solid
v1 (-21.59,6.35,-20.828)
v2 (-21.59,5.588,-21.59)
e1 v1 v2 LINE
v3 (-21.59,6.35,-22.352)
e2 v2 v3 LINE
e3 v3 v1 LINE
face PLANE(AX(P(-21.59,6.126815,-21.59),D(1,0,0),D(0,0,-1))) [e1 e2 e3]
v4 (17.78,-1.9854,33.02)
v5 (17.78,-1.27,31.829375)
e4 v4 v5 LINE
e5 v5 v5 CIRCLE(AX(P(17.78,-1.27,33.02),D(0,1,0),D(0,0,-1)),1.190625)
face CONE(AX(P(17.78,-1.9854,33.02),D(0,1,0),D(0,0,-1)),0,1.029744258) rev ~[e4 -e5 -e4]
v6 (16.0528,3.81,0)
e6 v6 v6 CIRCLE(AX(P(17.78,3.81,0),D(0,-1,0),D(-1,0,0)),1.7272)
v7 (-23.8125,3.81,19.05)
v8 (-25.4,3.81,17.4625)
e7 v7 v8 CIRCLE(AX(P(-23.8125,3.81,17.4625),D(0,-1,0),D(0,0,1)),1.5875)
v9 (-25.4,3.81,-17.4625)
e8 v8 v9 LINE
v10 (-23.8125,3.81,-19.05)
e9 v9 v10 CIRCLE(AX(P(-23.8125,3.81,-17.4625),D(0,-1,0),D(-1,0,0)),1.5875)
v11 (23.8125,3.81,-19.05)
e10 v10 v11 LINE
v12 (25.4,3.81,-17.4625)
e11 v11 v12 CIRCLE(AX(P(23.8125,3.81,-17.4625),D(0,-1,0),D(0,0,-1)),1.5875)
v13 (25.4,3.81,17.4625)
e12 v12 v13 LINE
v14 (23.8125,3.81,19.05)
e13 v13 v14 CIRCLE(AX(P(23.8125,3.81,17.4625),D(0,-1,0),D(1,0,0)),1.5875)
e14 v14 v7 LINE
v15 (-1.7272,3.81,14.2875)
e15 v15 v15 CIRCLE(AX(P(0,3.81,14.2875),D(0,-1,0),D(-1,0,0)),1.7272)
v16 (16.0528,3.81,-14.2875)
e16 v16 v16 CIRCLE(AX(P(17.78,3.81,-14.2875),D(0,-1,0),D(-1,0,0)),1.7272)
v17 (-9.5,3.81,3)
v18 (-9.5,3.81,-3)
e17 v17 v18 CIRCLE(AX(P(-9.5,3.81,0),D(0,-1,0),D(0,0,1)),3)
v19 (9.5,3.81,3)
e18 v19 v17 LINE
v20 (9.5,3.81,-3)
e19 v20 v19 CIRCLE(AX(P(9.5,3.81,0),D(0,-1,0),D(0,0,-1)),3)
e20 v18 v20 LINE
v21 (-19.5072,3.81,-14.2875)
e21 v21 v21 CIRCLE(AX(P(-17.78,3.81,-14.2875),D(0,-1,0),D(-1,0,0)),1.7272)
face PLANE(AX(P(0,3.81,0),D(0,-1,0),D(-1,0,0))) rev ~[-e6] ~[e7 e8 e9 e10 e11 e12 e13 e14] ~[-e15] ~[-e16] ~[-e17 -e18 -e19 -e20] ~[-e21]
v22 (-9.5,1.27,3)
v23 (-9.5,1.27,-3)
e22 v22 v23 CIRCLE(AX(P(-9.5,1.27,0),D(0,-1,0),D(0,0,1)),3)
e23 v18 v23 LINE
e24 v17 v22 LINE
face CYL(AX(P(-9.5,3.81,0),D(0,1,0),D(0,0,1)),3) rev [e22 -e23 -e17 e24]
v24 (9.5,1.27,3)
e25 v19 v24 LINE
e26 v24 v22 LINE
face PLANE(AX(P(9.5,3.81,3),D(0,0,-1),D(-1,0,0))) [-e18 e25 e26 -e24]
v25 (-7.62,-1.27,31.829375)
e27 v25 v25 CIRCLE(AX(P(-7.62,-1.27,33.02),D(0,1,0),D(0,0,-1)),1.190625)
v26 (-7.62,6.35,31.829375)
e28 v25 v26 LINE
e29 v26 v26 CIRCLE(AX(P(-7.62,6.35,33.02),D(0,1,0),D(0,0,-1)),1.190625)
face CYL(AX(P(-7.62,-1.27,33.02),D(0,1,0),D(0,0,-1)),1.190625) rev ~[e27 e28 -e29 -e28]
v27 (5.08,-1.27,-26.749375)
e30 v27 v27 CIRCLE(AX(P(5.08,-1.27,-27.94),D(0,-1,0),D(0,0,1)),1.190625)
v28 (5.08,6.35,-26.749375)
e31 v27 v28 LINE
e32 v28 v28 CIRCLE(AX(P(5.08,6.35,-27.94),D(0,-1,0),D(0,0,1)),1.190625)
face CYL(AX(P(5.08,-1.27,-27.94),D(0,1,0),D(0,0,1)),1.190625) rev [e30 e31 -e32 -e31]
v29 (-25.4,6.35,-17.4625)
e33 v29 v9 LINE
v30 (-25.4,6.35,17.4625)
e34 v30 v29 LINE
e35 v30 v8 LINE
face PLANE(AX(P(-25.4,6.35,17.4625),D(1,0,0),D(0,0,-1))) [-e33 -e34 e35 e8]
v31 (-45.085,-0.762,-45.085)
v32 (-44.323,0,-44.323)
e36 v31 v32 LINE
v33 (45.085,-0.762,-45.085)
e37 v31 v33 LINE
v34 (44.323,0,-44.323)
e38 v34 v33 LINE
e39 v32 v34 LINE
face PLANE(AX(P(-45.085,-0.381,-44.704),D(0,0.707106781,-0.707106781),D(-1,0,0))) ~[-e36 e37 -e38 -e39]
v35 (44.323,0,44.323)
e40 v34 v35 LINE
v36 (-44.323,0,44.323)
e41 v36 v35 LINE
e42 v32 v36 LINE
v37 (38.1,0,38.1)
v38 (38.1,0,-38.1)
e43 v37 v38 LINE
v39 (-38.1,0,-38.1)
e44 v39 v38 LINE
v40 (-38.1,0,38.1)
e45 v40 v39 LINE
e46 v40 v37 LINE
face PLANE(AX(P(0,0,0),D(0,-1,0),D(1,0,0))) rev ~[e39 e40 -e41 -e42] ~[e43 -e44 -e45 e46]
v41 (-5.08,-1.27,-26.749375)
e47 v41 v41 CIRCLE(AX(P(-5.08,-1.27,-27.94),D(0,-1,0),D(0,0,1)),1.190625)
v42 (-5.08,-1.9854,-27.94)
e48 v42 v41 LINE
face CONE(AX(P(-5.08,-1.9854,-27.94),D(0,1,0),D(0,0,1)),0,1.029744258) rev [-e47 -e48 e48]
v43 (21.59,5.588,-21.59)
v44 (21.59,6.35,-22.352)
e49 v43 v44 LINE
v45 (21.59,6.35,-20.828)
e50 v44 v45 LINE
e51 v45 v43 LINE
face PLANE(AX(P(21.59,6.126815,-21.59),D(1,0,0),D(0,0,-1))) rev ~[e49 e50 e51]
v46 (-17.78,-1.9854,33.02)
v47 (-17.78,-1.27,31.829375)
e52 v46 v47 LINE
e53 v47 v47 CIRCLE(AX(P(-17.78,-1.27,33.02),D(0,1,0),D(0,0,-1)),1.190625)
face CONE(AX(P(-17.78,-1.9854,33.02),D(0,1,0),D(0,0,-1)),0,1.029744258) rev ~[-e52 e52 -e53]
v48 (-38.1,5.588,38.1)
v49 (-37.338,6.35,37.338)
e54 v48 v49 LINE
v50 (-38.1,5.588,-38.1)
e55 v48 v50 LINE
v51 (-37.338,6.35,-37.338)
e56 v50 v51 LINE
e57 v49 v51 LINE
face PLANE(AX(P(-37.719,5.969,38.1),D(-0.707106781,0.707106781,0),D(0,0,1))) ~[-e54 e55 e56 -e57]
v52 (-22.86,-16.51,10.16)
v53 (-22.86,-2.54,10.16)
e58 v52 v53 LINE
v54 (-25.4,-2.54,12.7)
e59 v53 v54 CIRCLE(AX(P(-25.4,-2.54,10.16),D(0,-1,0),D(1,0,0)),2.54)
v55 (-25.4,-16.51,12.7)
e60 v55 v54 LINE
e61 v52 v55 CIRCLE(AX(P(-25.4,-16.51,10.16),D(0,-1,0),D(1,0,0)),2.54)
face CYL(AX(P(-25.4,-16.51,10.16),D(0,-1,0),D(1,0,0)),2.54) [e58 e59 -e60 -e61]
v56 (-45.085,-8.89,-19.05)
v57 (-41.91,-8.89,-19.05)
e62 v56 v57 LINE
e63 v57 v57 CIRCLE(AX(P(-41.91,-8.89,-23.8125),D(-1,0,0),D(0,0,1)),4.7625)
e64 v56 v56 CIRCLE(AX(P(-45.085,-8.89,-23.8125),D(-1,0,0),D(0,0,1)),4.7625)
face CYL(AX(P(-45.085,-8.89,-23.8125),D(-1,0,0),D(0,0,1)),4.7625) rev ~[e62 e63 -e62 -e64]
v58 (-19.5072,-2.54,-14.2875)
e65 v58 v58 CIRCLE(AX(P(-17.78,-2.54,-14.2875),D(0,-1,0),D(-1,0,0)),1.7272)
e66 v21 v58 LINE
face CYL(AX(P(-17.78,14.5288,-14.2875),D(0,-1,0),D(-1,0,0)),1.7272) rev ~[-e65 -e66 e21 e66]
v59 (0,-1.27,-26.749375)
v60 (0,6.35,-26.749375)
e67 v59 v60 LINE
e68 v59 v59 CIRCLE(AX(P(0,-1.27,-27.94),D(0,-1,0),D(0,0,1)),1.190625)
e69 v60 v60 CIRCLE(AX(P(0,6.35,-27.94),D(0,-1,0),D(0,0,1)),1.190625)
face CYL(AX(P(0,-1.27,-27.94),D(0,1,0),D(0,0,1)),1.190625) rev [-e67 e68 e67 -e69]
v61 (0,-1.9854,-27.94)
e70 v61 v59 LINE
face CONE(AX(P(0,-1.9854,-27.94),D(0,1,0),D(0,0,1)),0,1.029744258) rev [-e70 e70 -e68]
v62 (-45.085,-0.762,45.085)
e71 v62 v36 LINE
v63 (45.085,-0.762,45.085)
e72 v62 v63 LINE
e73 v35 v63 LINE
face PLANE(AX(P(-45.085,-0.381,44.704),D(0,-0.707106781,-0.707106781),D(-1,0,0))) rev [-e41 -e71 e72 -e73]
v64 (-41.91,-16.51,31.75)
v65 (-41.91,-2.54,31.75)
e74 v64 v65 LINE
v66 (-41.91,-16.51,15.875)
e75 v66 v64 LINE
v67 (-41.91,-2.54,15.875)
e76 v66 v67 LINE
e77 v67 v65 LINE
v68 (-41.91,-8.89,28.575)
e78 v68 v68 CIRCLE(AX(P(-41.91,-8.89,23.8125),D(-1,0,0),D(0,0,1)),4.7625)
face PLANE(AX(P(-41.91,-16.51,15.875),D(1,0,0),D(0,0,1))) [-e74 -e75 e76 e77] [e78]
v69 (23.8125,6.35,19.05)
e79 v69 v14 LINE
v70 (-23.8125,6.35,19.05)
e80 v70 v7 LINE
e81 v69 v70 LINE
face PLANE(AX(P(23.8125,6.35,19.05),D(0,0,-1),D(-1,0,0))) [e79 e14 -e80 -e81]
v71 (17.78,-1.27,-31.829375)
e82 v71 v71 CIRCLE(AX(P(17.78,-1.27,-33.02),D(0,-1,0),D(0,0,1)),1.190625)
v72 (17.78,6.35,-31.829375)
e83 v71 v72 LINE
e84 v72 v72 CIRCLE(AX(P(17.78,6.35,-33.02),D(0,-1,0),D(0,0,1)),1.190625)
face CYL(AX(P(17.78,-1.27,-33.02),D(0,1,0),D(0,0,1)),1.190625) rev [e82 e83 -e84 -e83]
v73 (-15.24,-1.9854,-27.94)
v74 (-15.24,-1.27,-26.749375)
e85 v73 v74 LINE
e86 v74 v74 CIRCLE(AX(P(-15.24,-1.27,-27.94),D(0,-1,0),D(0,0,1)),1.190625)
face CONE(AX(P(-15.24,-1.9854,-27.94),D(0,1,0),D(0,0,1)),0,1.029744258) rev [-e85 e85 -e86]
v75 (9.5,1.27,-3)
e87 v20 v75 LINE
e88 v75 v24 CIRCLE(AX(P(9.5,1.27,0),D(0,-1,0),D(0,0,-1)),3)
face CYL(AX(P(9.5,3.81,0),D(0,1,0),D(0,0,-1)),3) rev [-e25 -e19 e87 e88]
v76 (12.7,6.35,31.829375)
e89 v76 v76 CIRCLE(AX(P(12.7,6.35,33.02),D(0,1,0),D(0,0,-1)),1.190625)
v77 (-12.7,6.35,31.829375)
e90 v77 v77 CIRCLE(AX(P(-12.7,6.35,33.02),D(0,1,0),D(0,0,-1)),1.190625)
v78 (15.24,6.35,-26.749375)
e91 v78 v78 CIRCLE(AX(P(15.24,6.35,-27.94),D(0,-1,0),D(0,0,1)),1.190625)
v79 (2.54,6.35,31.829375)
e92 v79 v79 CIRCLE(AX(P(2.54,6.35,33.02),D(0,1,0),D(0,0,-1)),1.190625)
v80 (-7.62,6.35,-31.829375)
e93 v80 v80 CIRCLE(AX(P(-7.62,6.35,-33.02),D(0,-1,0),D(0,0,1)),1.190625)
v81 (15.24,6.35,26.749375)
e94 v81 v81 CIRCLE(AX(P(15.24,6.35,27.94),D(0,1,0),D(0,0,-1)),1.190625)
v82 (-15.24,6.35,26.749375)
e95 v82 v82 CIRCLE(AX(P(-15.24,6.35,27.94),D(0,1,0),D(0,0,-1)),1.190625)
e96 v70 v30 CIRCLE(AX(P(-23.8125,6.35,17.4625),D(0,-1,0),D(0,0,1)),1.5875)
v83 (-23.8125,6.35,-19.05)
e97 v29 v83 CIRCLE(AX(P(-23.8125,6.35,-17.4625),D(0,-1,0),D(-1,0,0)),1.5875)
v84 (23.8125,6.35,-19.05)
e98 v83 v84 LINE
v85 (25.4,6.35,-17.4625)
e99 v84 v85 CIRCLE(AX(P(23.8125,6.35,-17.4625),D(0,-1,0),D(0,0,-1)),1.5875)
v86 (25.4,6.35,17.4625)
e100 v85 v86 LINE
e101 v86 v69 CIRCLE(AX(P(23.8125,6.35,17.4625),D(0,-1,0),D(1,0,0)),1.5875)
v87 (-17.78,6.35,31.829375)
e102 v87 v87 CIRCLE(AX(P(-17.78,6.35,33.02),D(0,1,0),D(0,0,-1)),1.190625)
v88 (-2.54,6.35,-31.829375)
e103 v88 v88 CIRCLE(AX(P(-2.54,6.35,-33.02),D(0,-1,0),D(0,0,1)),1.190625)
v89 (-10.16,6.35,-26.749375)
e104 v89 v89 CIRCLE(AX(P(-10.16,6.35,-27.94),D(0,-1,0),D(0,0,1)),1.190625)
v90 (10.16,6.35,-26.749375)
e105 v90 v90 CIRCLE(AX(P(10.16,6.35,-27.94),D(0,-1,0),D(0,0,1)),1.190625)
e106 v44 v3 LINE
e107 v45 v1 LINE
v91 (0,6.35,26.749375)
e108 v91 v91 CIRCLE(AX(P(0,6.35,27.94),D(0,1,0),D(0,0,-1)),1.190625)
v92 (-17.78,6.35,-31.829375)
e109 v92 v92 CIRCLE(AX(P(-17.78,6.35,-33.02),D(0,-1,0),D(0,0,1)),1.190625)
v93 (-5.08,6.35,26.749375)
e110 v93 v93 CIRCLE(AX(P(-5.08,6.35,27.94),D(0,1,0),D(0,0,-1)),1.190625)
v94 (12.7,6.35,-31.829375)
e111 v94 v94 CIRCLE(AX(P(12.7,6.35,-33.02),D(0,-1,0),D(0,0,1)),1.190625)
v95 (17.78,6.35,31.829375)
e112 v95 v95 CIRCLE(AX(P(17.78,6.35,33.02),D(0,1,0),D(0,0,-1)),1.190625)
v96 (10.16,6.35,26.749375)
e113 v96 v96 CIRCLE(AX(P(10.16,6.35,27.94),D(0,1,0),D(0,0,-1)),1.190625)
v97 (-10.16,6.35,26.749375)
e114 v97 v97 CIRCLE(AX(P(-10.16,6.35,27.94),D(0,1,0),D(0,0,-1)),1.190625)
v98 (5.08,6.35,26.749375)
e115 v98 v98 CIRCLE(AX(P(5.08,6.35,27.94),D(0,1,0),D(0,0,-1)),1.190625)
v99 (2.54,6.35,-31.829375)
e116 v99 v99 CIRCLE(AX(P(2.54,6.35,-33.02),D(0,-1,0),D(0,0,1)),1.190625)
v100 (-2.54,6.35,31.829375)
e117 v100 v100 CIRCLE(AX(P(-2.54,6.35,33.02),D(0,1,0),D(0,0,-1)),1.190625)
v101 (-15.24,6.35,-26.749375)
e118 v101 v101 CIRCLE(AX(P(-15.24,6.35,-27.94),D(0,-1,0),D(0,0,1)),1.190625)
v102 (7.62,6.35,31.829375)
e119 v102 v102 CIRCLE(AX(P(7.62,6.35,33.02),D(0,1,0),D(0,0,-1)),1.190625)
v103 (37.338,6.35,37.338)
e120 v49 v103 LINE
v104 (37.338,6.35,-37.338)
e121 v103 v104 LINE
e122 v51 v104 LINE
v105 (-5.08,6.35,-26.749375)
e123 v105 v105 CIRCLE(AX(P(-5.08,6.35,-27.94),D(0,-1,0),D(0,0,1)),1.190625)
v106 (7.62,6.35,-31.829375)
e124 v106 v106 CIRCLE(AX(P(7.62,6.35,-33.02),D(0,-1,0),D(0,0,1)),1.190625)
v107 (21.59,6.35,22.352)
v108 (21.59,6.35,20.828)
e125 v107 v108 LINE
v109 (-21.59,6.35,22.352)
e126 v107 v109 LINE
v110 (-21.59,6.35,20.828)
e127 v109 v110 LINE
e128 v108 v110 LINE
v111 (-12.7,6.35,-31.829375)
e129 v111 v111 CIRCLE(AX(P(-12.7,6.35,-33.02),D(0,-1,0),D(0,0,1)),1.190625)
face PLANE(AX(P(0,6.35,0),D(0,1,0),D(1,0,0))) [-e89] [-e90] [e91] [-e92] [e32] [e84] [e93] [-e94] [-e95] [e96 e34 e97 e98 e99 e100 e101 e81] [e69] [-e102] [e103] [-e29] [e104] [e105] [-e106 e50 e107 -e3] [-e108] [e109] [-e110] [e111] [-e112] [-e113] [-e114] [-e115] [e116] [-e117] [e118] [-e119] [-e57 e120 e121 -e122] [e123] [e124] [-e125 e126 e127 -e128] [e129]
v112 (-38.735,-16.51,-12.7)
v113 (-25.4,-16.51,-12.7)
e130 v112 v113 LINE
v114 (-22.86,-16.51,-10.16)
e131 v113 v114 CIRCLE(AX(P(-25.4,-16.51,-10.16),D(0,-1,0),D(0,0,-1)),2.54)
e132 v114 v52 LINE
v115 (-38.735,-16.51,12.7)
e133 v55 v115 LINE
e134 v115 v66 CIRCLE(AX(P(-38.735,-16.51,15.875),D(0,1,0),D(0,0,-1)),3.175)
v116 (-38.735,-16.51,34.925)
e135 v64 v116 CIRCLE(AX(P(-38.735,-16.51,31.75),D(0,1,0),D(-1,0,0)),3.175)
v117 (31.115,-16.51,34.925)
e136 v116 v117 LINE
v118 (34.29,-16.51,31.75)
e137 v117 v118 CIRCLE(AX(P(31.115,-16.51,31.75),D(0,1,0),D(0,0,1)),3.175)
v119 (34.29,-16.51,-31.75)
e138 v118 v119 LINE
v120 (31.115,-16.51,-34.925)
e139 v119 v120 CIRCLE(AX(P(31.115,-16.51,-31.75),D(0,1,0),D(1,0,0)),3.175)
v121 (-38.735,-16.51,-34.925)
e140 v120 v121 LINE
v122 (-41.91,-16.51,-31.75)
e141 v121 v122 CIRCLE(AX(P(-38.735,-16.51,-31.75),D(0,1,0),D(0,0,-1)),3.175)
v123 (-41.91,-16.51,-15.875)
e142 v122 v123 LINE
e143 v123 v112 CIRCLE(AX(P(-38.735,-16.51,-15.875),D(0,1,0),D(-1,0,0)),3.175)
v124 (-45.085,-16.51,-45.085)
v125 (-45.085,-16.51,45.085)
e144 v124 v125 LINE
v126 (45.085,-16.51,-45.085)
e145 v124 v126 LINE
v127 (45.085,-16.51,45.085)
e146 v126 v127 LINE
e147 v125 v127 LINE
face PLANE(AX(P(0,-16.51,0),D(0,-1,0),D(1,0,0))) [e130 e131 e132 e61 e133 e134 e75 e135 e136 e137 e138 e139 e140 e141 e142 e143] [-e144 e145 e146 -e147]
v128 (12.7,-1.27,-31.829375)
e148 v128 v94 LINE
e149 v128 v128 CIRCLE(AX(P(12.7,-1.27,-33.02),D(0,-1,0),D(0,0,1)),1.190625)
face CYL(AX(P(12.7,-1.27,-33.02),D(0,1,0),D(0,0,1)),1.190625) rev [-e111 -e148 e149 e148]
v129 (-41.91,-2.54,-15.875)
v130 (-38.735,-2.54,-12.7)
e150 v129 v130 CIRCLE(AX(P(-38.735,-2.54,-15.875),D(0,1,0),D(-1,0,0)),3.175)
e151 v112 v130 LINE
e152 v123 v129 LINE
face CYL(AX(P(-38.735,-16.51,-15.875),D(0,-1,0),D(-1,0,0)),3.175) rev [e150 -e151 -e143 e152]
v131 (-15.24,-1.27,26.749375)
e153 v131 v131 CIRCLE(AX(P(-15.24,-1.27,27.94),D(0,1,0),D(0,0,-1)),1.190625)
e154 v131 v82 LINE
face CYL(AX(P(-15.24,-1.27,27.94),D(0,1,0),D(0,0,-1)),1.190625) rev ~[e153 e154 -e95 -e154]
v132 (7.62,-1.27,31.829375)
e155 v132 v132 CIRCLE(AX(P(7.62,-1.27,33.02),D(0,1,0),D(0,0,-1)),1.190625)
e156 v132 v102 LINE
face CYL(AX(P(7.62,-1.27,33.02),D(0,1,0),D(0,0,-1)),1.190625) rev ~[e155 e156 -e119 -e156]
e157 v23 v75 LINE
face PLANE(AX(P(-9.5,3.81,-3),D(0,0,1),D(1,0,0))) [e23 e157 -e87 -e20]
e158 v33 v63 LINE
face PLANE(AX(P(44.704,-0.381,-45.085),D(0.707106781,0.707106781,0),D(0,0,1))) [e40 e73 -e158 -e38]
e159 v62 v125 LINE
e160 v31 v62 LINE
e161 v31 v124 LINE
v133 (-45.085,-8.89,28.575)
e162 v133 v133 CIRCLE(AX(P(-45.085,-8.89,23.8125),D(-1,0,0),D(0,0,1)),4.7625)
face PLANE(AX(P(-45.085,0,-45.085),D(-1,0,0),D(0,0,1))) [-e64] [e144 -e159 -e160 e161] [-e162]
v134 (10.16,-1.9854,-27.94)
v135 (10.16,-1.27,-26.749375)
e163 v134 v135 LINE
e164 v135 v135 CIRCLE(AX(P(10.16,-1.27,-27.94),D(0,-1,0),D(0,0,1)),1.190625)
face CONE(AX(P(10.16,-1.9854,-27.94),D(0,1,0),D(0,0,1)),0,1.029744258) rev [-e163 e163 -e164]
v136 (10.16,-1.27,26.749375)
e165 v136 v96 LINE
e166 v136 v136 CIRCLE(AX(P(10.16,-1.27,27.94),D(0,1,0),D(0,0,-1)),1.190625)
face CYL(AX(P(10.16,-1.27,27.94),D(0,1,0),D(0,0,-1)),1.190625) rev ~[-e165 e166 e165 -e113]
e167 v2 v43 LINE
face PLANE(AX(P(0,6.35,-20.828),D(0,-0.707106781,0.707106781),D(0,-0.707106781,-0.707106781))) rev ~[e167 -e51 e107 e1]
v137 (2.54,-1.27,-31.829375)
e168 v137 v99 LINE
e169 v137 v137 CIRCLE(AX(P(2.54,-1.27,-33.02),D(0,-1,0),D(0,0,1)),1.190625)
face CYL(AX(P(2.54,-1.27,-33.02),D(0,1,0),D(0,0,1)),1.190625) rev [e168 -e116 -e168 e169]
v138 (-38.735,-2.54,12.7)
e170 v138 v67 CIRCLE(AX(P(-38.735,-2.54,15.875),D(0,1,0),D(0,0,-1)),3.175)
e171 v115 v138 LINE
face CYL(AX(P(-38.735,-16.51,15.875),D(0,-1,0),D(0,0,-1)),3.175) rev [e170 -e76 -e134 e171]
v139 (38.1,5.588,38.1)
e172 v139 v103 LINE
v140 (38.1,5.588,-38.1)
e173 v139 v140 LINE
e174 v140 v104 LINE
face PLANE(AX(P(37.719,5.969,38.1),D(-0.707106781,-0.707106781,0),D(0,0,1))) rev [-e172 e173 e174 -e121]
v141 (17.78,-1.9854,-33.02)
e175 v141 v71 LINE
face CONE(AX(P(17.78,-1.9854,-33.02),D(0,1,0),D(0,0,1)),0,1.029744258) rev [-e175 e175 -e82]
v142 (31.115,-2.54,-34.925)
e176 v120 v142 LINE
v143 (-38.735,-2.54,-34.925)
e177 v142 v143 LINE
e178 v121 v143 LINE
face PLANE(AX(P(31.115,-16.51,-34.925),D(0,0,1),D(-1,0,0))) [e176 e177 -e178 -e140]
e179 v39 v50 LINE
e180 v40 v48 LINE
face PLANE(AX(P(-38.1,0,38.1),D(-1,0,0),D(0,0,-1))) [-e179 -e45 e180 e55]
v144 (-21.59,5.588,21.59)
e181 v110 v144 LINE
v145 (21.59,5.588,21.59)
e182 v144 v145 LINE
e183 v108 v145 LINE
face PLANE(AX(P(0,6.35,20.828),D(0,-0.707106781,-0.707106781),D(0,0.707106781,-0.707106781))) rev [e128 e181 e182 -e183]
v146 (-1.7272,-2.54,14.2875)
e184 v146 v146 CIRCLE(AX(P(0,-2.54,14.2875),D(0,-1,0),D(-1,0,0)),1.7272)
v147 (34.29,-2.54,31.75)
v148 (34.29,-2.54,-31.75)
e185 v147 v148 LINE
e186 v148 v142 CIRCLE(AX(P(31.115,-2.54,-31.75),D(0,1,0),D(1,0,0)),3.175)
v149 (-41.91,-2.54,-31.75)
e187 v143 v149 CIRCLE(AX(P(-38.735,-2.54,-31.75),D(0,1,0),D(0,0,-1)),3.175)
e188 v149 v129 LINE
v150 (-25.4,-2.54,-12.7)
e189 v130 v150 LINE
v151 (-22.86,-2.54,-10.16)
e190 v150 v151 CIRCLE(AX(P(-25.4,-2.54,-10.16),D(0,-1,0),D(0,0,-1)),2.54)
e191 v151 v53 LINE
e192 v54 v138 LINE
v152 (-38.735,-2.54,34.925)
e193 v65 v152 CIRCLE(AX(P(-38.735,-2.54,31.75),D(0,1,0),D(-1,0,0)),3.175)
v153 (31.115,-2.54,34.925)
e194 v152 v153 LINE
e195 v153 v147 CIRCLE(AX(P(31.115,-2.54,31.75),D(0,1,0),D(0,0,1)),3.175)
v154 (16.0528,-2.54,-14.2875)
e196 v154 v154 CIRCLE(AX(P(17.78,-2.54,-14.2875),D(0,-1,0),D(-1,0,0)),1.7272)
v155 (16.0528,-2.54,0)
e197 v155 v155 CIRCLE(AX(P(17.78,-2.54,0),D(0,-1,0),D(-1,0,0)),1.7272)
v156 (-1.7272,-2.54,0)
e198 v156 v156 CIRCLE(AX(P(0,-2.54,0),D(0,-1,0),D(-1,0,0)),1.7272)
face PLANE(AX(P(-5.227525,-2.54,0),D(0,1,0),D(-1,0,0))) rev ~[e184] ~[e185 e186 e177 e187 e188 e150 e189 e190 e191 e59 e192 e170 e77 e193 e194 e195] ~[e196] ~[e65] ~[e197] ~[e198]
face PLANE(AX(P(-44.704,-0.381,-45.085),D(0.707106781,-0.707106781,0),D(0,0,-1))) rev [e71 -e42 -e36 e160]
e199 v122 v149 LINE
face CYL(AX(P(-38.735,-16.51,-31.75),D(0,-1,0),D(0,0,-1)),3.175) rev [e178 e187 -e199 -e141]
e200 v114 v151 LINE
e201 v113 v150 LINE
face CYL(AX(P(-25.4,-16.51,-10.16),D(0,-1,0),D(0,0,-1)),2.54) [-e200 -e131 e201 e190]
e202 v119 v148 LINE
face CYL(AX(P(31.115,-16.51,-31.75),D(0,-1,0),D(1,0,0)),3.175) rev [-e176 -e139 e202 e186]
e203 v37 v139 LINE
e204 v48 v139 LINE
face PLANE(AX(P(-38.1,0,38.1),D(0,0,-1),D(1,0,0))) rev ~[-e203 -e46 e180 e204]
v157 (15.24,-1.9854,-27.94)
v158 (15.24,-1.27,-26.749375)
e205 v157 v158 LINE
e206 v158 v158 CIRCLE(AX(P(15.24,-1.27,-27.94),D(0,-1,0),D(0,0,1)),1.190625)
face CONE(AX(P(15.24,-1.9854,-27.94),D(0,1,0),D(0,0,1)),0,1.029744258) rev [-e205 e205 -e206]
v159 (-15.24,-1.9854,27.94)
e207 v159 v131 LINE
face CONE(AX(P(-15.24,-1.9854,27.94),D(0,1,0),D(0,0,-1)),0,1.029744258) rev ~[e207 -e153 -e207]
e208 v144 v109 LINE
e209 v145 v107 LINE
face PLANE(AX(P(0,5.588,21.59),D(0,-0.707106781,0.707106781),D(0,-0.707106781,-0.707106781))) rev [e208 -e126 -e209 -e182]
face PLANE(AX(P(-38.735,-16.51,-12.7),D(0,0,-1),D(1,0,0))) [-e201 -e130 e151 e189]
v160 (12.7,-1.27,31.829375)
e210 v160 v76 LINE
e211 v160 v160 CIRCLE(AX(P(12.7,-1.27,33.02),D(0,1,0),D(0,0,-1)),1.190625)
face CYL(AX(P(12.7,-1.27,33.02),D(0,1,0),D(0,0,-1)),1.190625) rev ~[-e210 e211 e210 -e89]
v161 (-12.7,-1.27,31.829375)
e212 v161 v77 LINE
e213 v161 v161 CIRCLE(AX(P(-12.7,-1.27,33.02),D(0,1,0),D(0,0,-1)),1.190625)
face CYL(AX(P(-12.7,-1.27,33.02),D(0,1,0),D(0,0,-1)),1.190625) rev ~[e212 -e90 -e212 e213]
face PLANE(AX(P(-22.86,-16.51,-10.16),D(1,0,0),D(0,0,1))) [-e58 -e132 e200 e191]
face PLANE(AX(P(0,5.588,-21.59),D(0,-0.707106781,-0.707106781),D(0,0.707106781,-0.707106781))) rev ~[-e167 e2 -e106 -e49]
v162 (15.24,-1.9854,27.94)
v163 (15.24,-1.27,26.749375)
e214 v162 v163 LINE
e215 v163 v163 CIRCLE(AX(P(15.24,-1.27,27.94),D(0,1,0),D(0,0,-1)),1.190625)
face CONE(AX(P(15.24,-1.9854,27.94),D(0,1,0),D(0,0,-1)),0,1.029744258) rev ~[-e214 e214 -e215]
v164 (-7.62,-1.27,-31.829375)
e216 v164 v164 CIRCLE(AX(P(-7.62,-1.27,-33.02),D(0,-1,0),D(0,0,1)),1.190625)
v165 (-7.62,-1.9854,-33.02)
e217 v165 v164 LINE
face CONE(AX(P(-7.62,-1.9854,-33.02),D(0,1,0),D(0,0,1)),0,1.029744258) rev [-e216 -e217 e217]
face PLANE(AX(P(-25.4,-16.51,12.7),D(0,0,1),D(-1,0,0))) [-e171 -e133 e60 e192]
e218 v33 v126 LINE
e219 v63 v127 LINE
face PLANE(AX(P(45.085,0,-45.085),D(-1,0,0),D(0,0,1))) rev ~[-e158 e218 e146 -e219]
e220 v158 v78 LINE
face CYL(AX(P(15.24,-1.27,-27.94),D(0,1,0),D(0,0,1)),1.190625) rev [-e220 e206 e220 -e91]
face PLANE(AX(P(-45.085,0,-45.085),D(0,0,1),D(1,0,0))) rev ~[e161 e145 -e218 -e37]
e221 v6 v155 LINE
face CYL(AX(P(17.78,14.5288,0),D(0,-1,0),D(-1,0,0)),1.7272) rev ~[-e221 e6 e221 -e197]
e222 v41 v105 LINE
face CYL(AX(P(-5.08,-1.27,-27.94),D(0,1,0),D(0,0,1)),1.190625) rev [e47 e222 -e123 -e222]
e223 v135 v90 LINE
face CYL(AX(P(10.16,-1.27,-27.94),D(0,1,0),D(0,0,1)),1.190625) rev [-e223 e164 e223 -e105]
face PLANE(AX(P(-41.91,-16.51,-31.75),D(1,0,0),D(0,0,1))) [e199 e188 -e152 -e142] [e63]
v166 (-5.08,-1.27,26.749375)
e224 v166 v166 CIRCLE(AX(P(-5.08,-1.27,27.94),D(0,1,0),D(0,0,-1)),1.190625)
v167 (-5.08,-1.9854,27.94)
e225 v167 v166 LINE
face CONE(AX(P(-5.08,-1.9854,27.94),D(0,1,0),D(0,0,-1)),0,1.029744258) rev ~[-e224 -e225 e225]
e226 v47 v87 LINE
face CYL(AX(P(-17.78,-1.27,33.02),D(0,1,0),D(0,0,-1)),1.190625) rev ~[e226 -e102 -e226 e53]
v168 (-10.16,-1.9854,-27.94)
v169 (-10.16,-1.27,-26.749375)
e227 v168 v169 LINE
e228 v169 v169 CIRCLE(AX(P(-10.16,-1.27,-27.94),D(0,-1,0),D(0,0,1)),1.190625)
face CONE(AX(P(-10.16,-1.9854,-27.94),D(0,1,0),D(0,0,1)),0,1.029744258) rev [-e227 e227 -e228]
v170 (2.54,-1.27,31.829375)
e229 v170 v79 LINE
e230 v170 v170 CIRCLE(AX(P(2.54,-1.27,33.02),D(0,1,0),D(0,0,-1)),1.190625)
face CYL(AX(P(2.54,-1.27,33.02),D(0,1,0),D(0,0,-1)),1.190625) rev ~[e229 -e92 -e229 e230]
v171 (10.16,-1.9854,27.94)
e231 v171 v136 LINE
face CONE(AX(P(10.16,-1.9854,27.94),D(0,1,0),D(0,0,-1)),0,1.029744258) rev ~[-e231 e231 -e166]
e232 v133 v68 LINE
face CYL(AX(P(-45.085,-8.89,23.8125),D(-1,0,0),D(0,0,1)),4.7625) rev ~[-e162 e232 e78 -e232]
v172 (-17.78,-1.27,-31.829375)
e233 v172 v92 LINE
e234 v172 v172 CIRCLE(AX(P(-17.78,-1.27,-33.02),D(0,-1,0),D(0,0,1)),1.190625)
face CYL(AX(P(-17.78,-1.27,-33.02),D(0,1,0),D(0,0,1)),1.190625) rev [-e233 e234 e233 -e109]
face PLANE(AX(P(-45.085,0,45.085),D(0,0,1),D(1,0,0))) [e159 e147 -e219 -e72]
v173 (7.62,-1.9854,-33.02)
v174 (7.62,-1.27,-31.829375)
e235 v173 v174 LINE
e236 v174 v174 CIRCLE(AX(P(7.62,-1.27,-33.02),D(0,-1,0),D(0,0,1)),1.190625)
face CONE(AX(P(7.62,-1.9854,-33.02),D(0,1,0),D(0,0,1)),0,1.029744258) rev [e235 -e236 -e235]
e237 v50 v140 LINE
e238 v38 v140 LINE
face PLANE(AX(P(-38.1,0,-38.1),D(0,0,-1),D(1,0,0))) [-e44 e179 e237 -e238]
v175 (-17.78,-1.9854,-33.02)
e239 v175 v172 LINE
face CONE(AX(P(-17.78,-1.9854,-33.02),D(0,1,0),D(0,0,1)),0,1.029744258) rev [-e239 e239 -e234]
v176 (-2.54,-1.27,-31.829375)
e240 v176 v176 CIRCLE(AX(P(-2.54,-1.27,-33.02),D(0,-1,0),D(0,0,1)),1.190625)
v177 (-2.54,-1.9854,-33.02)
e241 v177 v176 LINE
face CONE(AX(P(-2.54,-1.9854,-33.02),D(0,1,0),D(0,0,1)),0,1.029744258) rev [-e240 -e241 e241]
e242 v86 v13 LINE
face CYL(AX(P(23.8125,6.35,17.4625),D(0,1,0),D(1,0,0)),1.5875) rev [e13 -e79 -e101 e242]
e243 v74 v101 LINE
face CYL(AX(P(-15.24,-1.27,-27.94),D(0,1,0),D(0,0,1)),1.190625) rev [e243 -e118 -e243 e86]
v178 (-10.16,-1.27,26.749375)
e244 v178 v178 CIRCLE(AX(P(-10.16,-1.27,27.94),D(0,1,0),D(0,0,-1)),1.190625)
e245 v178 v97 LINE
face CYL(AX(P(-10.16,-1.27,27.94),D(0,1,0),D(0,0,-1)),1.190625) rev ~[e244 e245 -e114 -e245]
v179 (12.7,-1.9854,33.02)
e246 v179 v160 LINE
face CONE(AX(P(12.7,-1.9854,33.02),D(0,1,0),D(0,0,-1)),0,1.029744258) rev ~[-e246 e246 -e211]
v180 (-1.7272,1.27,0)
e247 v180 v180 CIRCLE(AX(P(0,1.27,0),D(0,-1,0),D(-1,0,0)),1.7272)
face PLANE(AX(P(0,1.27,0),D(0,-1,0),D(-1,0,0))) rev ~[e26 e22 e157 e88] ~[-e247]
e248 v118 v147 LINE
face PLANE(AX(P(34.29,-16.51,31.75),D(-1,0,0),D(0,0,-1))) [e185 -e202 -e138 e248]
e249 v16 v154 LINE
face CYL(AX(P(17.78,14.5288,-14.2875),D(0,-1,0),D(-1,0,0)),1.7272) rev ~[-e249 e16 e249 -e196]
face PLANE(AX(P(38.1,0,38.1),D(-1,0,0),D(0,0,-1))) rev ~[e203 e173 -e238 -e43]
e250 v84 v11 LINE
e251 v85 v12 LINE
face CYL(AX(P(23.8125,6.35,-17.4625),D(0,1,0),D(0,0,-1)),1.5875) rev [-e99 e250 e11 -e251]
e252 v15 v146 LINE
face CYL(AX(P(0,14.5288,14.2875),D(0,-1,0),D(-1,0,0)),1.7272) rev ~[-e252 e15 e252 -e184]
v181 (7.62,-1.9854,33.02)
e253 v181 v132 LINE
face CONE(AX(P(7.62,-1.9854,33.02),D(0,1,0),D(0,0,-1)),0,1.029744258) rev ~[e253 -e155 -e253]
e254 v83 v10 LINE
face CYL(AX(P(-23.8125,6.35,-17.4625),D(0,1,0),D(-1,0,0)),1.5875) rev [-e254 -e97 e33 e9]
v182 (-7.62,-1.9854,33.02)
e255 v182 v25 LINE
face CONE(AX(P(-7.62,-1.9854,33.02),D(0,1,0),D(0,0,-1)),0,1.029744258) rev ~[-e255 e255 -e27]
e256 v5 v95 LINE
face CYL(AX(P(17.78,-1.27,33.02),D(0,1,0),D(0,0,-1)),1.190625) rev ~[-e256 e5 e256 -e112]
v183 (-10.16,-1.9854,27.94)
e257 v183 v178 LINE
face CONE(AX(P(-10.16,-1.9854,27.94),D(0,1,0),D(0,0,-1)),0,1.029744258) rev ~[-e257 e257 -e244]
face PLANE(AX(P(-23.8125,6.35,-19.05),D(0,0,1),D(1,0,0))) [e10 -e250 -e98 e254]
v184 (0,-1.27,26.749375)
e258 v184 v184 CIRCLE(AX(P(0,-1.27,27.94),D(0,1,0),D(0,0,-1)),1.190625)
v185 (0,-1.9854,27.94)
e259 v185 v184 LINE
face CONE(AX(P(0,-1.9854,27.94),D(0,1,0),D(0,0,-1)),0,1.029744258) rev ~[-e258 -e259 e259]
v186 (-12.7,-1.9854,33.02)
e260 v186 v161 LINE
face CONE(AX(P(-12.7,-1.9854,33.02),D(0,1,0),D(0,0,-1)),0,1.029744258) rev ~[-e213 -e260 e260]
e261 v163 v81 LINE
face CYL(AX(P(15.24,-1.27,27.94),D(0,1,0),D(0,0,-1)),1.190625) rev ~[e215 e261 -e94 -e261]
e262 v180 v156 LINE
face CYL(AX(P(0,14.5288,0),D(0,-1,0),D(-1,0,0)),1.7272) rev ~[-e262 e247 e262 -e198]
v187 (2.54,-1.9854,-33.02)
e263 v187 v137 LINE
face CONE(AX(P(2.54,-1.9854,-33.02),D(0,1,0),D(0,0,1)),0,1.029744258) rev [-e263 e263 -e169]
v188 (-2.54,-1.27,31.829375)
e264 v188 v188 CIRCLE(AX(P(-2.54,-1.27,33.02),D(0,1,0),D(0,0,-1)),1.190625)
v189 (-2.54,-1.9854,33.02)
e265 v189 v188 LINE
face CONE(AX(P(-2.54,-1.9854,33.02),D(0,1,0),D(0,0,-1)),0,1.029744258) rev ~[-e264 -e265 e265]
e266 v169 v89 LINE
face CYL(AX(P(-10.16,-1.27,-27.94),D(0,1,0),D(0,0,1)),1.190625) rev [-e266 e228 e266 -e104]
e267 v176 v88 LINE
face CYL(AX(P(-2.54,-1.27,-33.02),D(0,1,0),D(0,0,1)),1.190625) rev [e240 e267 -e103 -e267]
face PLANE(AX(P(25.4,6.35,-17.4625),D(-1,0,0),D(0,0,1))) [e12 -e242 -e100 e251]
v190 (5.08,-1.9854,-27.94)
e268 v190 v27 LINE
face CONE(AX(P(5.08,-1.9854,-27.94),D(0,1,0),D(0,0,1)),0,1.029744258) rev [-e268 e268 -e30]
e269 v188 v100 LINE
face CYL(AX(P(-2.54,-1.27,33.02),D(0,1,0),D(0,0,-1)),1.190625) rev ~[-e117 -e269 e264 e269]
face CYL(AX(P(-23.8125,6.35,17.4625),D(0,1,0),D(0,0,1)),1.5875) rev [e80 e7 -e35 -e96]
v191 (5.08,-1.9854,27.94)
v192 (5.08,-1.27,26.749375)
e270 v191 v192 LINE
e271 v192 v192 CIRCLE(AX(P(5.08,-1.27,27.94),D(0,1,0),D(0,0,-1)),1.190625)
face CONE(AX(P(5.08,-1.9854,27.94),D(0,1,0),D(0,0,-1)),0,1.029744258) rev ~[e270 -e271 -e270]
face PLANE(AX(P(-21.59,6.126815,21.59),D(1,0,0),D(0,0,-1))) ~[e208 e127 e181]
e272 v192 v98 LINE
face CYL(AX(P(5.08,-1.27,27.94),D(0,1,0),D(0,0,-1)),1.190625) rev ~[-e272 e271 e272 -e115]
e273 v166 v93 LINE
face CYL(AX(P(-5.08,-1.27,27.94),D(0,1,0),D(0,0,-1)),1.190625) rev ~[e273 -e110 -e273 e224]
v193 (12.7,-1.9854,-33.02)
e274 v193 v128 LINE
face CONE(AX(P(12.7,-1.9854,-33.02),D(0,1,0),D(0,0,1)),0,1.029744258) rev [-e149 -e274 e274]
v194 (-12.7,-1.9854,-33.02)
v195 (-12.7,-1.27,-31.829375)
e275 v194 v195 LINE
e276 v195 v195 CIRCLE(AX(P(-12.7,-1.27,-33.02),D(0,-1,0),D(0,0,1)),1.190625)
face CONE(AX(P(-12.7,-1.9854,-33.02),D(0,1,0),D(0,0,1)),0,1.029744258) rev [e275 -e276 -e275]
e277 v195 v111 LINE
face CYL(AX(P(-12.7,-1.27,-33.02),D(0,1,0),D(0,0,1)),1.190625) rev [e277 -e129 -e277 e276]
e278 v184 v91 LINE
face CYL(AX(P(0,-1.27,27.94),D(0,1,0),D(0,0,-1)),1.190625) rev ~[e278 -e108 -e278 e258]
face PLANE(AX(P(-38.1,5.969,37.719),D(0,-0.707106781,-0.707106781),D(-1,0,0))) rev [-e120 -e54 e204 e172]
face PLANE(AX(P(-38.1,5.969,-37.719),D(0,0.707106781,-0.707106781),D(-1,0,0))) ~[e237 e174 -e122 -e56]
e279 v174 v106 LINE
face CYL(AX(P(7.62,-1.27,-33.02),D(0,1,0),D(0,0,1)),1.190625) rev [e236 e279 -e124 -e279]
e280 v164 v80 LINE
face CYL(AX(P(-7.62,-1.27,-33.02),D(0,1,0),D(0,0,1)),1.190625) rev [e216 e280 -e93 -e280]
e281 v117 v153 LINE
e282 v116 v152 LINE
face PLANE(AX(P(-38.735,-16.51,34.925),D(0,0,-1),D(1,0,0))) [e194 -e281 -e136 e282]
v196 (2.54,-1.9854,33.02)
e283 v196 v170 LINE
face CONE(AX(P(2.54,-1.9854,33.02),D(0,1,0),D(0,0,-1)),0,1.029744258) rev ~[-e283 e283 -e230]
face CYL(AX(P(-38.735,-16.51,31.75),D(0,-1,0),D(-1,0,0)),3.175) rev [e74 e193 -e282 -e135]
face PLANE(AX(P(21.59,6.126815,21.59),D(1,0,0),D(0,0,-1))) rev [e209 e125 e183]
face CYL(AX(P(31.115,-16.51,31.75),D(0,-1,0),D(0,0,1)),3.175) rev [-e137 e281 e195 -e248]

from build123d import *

# Parameters (mm, degrees)
SKETCH1_W                                 = 76.2
SKETCH1_H                                 = 76.2
BOSS_EXTRUDE1_DEPTH                       = 6.35
SKETCH13_W                                = 90.17
SKETCH13_H                                = 90.17
BOSS_EXTRUDE2_DEPTH                       = 16.51
CUT_EXTRUDE1_DEPTH                        = 2.54
F_3_32_0_09375_DIAMETER_HOLE1_AT_2_COUNT  = 2
F_3_32_0_09375_DIAMETER_HOLE1_AT_2_PITCH  = 30.48
F_3_32_0_09375_DIAMETER_HOLE1_AT_3_COUNT  = 2
F_3_32_0_09375_DIAMETER_HOLE1_AT_3_PITCH  = 5.679612663
F_3_32_0_09375_DIAMETER_HOLE1_AT_4_COUNT  = 2
F_3_32_0_09375_DIAMETER_HOLE1_AT_4_PITCH  = 33.408483952
F_3_32_0_09375_DIAMETER_HOLE1_AT_5_COUNT  = 2
F_3_32_0_09375_DIAMETER_HOLE1_AT_5_PITCH  = 5.679612663
F_3_32_0_09375_DIAMETER_HOLE1_AT_6_COUNT  = 2
F_3_32_0_09375_DIAMETER_HOLE1_AT_6_PITCH  = 9.15810024
F_3_32_0_09375_DIAMETER_HOLE1_AT_7_COUNT  = 2
F_3_32_0_09375_DIAMETER_HOLE1_AT_7_PITCH  = 13.67831861
F_3_32_0_09375_DIAMETER_HOLE1_AT_8_COUNT  = 2
F_3_32_0_09375_DIAMETER_HOLE1_AT_8_PITCH  = 18.491479119
F_3_32_0_09375_DIAMETER_HOLE1_AT_9_COUNT  = 2
F_3_32_0_09375_DIAMETER_HOLE1_AT_9_PITCH  = 23.417642922
F_3_32_0_09375_DIAMETER_HOLE1_AT_10_COUNT = 2
F_3_32_0_09375_DIAMETER_HOLE1_AT_10_PITCH = 28.398063314
F_3_32_0_09375_DIAMETER_HOLE1_AT_11_COUNT = 2
F_3_32_0_09375_DIAMETER_HOLE1_AT_11_PITCH = 5.08
F_3_32_0_09375_DIAMETER_HOLE1_AT_12_COUNT = 2
F_3_32_0_09375_DIAMETER_HOLE1_AT_12_PITCH = 10.16
F_3_32_0_09375_DIAMETER_HOLE1_AT_13_COUNT = 2
F_3_32_0_09375_DIAMETER_HOLE1_AT_13_PITCH = 15.24
F_3_32_0_09375_DIAMETER_HOLE1_AT_14_COUNT = 2
F_3_32_0_09375_DIAMETER_HOLE1_AT_14_PITCH = 20.32
F_3_32_0_09375_DIAMETER_HOLE1_AT_15_COUNT = 2
F_3_32_0_09375_DIAMETER_HOLE1_AT_15_PITCH = 25.4
CUT_EXTRUDE4_DEPTH                        = 21.59
CHAMFER1_SIZE                             = 0.762
CUT_EXTRUDE8_DEPTH                        = 13.97
SKETCH15_R                                = 4.7625
CUT_EXTRUDE9_DEPTH                        = 5.08
F_8_32_TAPPED_HOLE1_D                     = 3.4544
F_8_32_TAPPED_HOLE1_DEPTH                 = 10.7188
F_8_32_TAPPED_HOLE1_TIP                   = 1.037806461
CUT_EXTRUDE17_DEPTH                       = 2.54


with BuildPart() as part:
    # Sketch1 → Boss-Extrude1 (new body)
    with BuildSketch(Plane(origin=(0, 0, 0), x_dir=(1, 0, 0), z_dir=(0, 1, 0))):
        Rectangle(SKETCH1_W, SKETCH1_H)
    extrude(amount=BOSS_EXTRUDE1_DEPTH)

    # Sketch13 → Boss-Extrude2 (add)
    with BuildSketch(Plane.XZ):
        Rectangle(SKETCH13_W, SKETCH13_H)
    extrude(amount=BOSS_EXTRUDE2_DEPTH)

    # Sketch2 → Cut-Extrude1 (cut)
    with BuildSketch(Plane(origin=(0, 6.35, 0), x_dir=(1, 0, 0), z_dir=(0, 1, 0))):
        with BuildLine():
            Line((-23.8125, 19.05), (23.8125, 19.05))
            ThreePointArc((23.8125, 19.05), (24.935032015, 18.585032015), (25.4, 17.4625))
            Line((25.4, 17.4625), (25.4, -17.4625))
            ThreePointArc((25.4, -17.4625), (24.935032015, -18.585032015), (23.8125, -19.05))
            Line((23.8125, -19.05), (-23.8125, -19.05))
            ThreePointArc((-23.8125, -19.05), (-24.935032015, -18.585032015), (-25.4, -17.4625))
            Line((-25.4, -17.4625), (-25.4, 17.4625))
            ThreePointArc((-25.4, 17.4625), (-24.935032015, 18.585032015), (-23.8125, 19.05))
        make_face()
    extrude(amount=-CUT_EXTRUDE1_DEPTH, mode=Mode.SUBTRACT)

    # Sketch6 → 3/32 (0.09375) Diameter Hole1 (revolve, cut)
    with BuildSketch(Plane(origin=(-15.24, 6.35, -27.94), x_dir=(0, 0, 1), z_dir=(1, 0, 0))):
        Polygon((0, 0), (0, 8.335399675), (1.190625, 7.62), (1.190625, 0), align=None)
    f_3_32_0_09375_diameter_hole1 = revolve(axis=Axis((-15.24, 12.7, -27.94), (0, -1, 0)), mode=Mode.SUBTRACT)

    # 3/32 (0.09375) Diameter Hole1 at 2: 3/32 (0.09375) Diameter Hole1 ×2
    with Locations(*[(i * F_3_32_0_09375_DIAMETER_HOLE1_AT_2_PITCH, 0, 0) for i in range(1, F_3_32_0_09375_DIAMETER_HOLE1_AT_2_COUNT)]):
        add(f_3_32_0_09375_diameter_hole1, mode=Mode.SUBTRACT)

    # 3/32 (0.09375) Diameter Hole1 at 3: 3/32 (0.09375) Diameter Hole1 ×2
    with Locations(*[Vector(-0.44721359549995776, 0, -0.8944271909999161) * (i * F_3_32_0_09375_DIAMETER_HOLE1_AT_3_PITCH) for i in range(1, F_3_32_0_09375_DIAMETER_HOLE1_AT_3_COUNT)]):
        add(f_3_32_0_09375_diameter_hole1, mode=Mode.SUBTRACT)

    # 3/32 (0.09375) Diameter Hole1 at 4: 3/32 (0.09375) Diameter Hole1 ×2
    with Locations(*[Vector(0.9883716976506173, 0, -0.15205718425394119) * (i * F_3_32_0_09375_DIAMETER_HOLE1_AT_4_PITCH) for i in range(1, F_3_32_0_09375_DIAMETER_HOLE1_AT_4_COUNT)]):
        add(f_3_32_0_09375_diameter_hole1, mode=Mode.SUBTRACT)

    # 3/32 (0.09375) Diameter Hole1 at 5: 3/32 (0.09375) Diameter Hole1 ×2
    with Locations(*[Vector(0.4472135954999582, 0, -0.8944271909999159) * (i * F_3_32_0_09375_DIAMETER_HOLE1_AT_5_PITCH) for i in range(1, F_3_32_0_09375_DIAMETER_HOLE1_AT_5_COUNT)]):
        add(f_3_32_0_09375_diameter_hole1, mode=Mode.SUBTRACT)

    # 3/32 (0.09375) Diameter Hole1 at 6: 3/32 (0.09375) Diameter Hole1 ×2
    with Locations(*[Vector(0.8320502943378437, 0, -0.5547001962252293) * (i * F_3_32_0_09375_DIAMETER_HOLE1_AT_6_PITCH) for i in range(1, F_3_32_0_09375_DIAMETER_HOLE1_AT_6_COUNT)]):
        add(f_3_32_0_09375_diameter_hole1, mode=Mode.SUBTRACT)

    # 3/32 (0.09375) Diameter Hole1 at 7: 3/32 (0.09375) Diameter Hole1 ×2
    with Locations(*[Vector(0.9284766908852593, 0, -0.37139067635410383) * (i * F_3_32_0_09375_DIAMETER_HOLE1_AT_7_PITCH) for i in range(1, F_3_32_0_09375_DIAMETER_HOLE1_AT_7_COUNT)]):
        add(f_3_32_0_09375_diameter_hole1, mode=Mode.SUBTRACT)

    # 3/32 (0.09375) Diameter Hole1 at 8: 3/32 (0.09375) Diameter Hole1 ×2
    with Locations(*[Vector(0.9615239476408232, 0, -0.2747211278973781) * (i * F_3_32_0_09375_DIAMETER_HOLE1_AT_8_PITCH) for i in range(1, F_3_32_0_09375_DIAMETER_HOLE1_AT_8_COUNT)]):
        add(f_3_32_0_09375_diameter_hole1, mode=Mode.SUBTRACT)

    # 3/32 (0.09375) Diameter Hole1 at 9: 3/32 (0.09375) Diameter Hole1 ×2
    with Locations(*[Vector(0.9761870601839527, 0, -0.2169304578186562) * (i * F_3_32_0_09375_DIAMETER_HOLE1_AT_9_PITCH) for i in range(1, F_3_32_0_09375_DIAMETER_HOLE1_AT_9_COUNT)]):
        add(f_3_32_0_09375_diameter_hole1, mode=Mode.SUBTRACT)

    # 3/32 (0.09375) Diameter Hole1 at 10: 3/32 (0.09375) Diameter Hole1 ×2
    with Locations(*[Vector(0.9838699100999074, 0, -0.17888543819998323) * (i * F_3_32_0_09375_DIAMETER_HOLE1_AT_10_PITCH) for i in range(1, F_3_32_0_09375_DIAMETER_HOLE1_AT_10_COUNT)]):
        add(f_3_32_0_09375_diameter_hole1, mode=Mode.SUBTRACT)

    # 3/32 (0.09375) Diameter Hole1 at 11: 3/32 (0.09375) Diameter Hole1 ×2
    with Locations(*[(i * F_3_32_0_09375_DIAMETER_HOLE1_AT_11_PITCH, 0, 0) for i in range(1, F_3_32_0_09375_DIAMETER_HOLE1_AT_11_COUNT)]):
        add(f_3_32_0_09375_diameter_hole1, mode=Mode.SUBTRACT)

    # 3/32 (0.09375) Diameter Hole1 at 12: 3/32 (0.09375) Diameter Hole1 ×2
    with Locations(*[(i * F_3_32_0_09375_DIAMETER_HOLE1_AT_12_PITCH, 0, 0) for i in range(1, F_3_32_0_09375_DIAMETER_HOLE1_AT_12_COUNT)]):
        add(f_3_32_0_09375_diameter_hole1, mode=Mode.SUBTRACT)

    # 3/32 (0.09375) Diameter Hole1 at 13: 3/32 (0.09375) Diameter Hole1 ×2
    with Locations(*[(i * F_3_32_0_09375_DIAMETER_HOLE1_AT_13_PITCH, 0, 0) for i in range(1, F_3_32_0_09375_DIAMETER_HOLE1_AT_13_COUNT)]):
        add(f_3_32_0_09375_diameter_hole1, mode=Mode.SUBTRACT)

    # 3/32 (0.09375) Diameter Hole1 at 14: 3/32 (0.09375) Diameter Hole1 ×2
    with Locations(*[(i * F_3_32_0_09375_DIAMETER_HOLE1_AT_14_PITCH, 0, 0) for i in range(1, F_3_32_0_09375_DIAMETER_HOLE1_AT_14_COUNT)]):
        add(f_3_32_0_09375_diameter_hole1, mode=Mode.SUBTRACT)

    # 3/32 (0.09375) Diameter Hole1 at 15: 3/32 (0.09375) Diameter Hole1 ×2
    with Locations(*[(i * F_3_32_0_09375_DIAMETER_HOLE1_AT_15_PITCH, 0, 0) for i in range(1, F_3_32_0_09375_DIAMETER_HOLE1_AT_15_COUNT)]):
        add(f_3_32_0_09375_diameter_hole1, mode=Mode.SUBTRACT)

    # Mirror1: 3/32 (0.09375) Diameter Hole1 across plane
    add(f_3_32_0_09375_diameter_hole1.mirror(Plane.XY), mode=Mode.SUBTRACT)

    # Mirror1 copy 1 sketch → Mirror1 copy 1 (revolve, cut)
    with BuildSketch(Plane(origin=(15.24, 6.35, 27.94), x_dir=(0, 0, -1), z_dir=(1, 0, 0))):
        Polygon((0, 0), (0, -8.335399675), (1.190625, -7.62), (1.190625, 0), align=None)
    revolve(axis=Axis((15.24, 12.7, 27.94), (0, 1, 0)), mode=Mode.SUBTRACT)

    # Mirror1 copy 2 sketch → Mirror1 copy 2 (revolve, cut)
    with BuildSketch(Plane(origin=(-17.78, 6.35, 33.02), x_dir=(0, 0, -1), z_dir=(1, 0, 0))):
        Polygon((0, 0), (0, -8.335399675), (1.190625, -7.62), (1.190625, 0), align=None)
    revolve(axis=Axis((-17.78, 12.7, 33.02), (0, 1, 0)), mode=Mode.SUBTRACT)

    # Mirror1 copy 3 sketch → Mirror1 copy 3 (revolve, cut)
    with BuildSketch(Plane(origin=(17.78, 6.35, 33.02), x_dir=(0, 0, -1), z_dir=(1, 0, 0))):
        Polygon((0, 0), (0, -8.335399675), (1.190625, -7.62), (1.190625, 0), align=None)
    revolve(axis=Axis((17.78, 12.7, 33.02), (0, 1, 0)), mode=Mode.SUBTRACT)

    # Mirror1 copy 4 sketch → Mirror1 copy 4 (revolve, cut)
    with BuildSketch(Plane(origin=(-12.7, 6.35, 33.02), x_dir=(0, 0, -1), z_dir=(1, 0, 0))):
        Polygon((0, 0), (0, -8.335399675), (1.190625, -7.62), (1.190625, 0), align=None)
    revolve(axis=Axis((-12.7, 12.7, 33.02), (0, 1, 0)), mode=Mode.SUBTRACT)

    # Mirror1 copy 5 sketch → Mirror1 copy 5 (revolve, cut)
    with BuildSketch(Plane(origin=(-7.62, 6.35, 33.02), x_dir=(0, 0, -1), z_dir=(1, 0, 0))):
        Polygon((0, 0), (0, -8.335399675), (1.190625, -7.62), (1.190625, 0), align=None)
    revolve(axis=Axis((-7.62, 12.7, 33.02), (0, 1, 0)), mode=Mode.SUBTRACT)

    # Mirror1 copy 6 sketch → Mirror1 copy 6 (revolve, cut)
    with BuildSketch(Plane(origin=(-2.54, 6.35, 33.02), x_dir=(0, 0, -1), z_dir=(1, 0, 0))):
        Polygon((0, 0), (0, -8.335399675), (1.190625, -7.62), (1.190625, 0), align=None)
    revolve(axis=Axis((-2.54, 12.7, 33.02), (0, 1, 0)), mode=Mode.SUBTRACT)

    # Mirror1 copy 7 sketch → Mirror1 copy 7 (revolve, cut)
    with BuildSketch(Plane(origin=(2.54, 6.35, 33.02), x_dir=(0, 0, -1), z_dir=(1, 0, 0))):
        Polygon((0, 0), (0, -8.335399675), (1.190625, -7.62), (1.190625, 0), align=None)
    revolve(axis=Axis((2.54, 12.7, 33.02), (0, 1, 0)), mode=Mode.SUBTRACT)

    # Mirror1 copy 8 sketch → Mirror1 copy 8 (revolve, cut)
    with BuildSketch(Plane(origin=(7.62, 6.35, 33.02), x_dir=(0, 0, -1), z_dir=(1, 0, 0))):
        Polygon((0, 0), (0, -8.335399675), (1.190625, -7.62), (1.190625, 0), align=None)
    revolve(axis=Axis((7.62, 12.7, 33.02), (0, 1, 0)), mode=Mode.SUBTRACT)

    # Mirror1 copy 9 sketch → Mirror1 copy 9 (revolve, cut)
    with BuildSketch(Plane(origin=(12.7, 6.35, 33.02), x_dir=(0, 0, -1), z_dir=(1, 0, 0))):
        Polygon((0, 0), (0, -8.335399675), (1.190625, -7.62), (1.190625, 0), align=None)
    revolve(axis=Axis((12.7, 12.7, 33.02), (0, 1, 0)), mode=Mode.SUBTRACT)

    # Mirror1 copy 10 sketch → Mirror1 copy 10 (revolve, cut)
    with BuildSketch(Plane(origin=(-10.16, 6.35, 27.94), x_dir=(0, 0, -1), z_dir=(1, 0, 0))):
        Polygon((0, 0), (0, -8.335399675), (1.190625, -7.62), (1.190625, 0), align=None)
    revolve(axis=Axis((-10.16, 12.7, 27.94), (0, 1, 0)), mode=Mode.SUBTRACT)

    # Mirror1 copy 11 sketch → Mirror1 copy 11 (revolve, cut)
    with BuildSketch(Plane(origin=(-5.08, 6.35, 27.94), x_dir=(0, 0, -1), z_dir=(1, 0, 0))):
        Polygon((0, 0), (0, -8.335399675), (1.190625, -7.62), (1.190625, 0), align=None)
    revolve(axis=Axis((-5.08, 12.7, 27.94), (0, 1, 0)), mode=Mode.SUBTRACT)

    # Mirror1 copy 12 sketch → Mirror1 copy 12 (revolve, cut)
    with BuildSketch(Plane(origin=(0, 6.35, 27.94), x_dir=(0, 0, -1), z_dir=(1, 0, 0))):
        Polygon((0, 0), (0, -8.335399675), (1.190625, -7.62), (1.190625, 0), align=None)
    revolve(axis=Axis((0, 12.7, 27.94), (0, 1, 0)), mode=Mode.SUBTRACT)

    # Mirror1 copy 13 sketch → Mirror1 copy 13 (revolve, cut)
    with BuildSketch(Plane(origin=(5.08, 6.35, 27.94), x_dir=(0, 0, -1), z_dir=(1, 0, 0))):
        Polygon((0, 0), (0, -8.335399675), (1.190625, -7.62), (1.190625, 0), align=None)
    revolve(axis=Axis((5.08, 12.7, 27.94), (0, 1, 0)), mode=Mode.SUBTRACT)

    # Mirror1 copy 14 sketch → Mirror1 copy 14 (revolve, cut)
    with BuildSketch(Plane(origin=(10.16, 6.35, 27.94), x_dir=(0, 0, -1), z_dir=(1, 0, 0))):
        Polygon((0, 0), (0, -8.335399675), (1.190625, -7.62), (1.190625, 0), align=None)
    revolve(axis=Axis((10.16, 12.7, 27.94), (0, 1, 0)), mode=Mode.SUBTRACT)

    # Sketch8 → Cut-Extrude4 (cut, symmetric)
    with BuildSketch(Plane(origin=(0, 0, 0), x_dir=(0, 0, -1), z_dir=(1, 0, 0))):
        Polygon((20.828, 6.35), (21.59, 5.588), (22.352, 6.35), align=None)
    cut_extrude4 = extrude(amount=CUT_EXTRUDE4_DEPTH, both=True, mode=Mode.SUBTRACT)

    # Mirror2: Cut-Extrude4 across plane
    add(cut_extrude4.mirror(Plane.XY), mode=Mode.SUBTRACT)

    # Chamfer1
    chamfer1_edges = [part.edges().sort_by_distance(p)[0] for p in [
        (-38.1, 6.35, 0),
        (0, 6.35, 38.1),
        (45.085, 0, 0),
        (0, 0, 45.085),
        (-45.085, 0, 0),
        (0, 0, -45.085),
        (38.1, 6.35, 0),
        (0, 6.35, -38.1),
    ]]
    chamfer(chamfer1_edges, length=CHAMFER1_SIZE)

    # Sketch14 → Cut-Extrude8 (cut)
    with BuildSketch(Plane.XZ.offset(16.51)):
        with BuildLine():
            Line((-38.735, 34.925), (31.115, 34.925))
            ThreePointArc((31.115, 34.925), (33.36006403, 33.99506403), (34.29, 31.75))
            Line((34.29, 31.75), (34.29, -31.75))
            ThreePointArc((34.29, -31.75), (33.36006403, -33.99506403), (31.115, -34.925))
            Line((31.115, -34.925), (-38.735, -34.925))
            ThreePointArc((-38.735, -34.925), (-40.98006403, -33.99506403), (-41.91, -31.75))
            Line((-41.91, -31.75), (-41.91, -15.875))
            ThreePointArc((-41.91, -15.875), (-40.98006403, -13.62993597), (-38.735, -12.7))
            Line((-38.735, -12.7), (-25.4, -12.7))
            ThreePointArc((-25.4, -12.7), (-23.603948776, -11.956051224), (-22.86, -10.16))
            Line((-22.86, -10.16), (-22.86, 10.16))
            ThreePointArc((-22.86, 10.16), (-23.603948776, 11.956051224), (-25.4, 12.7))
            Line((-25.4, 12.7), (-38.735, 12.7))
            ThreePointArc((-38.735, 12.7), (-40.98006403, 13.62993597), (-41.91, 15.875))
            Line((-41.91, 15.875), (-41.91, 31.75))
            ThreePointArc((-41.91, 31.75), (-40.98006403, 33.99506403), (-38.735, 34.925))
        make_face()
    extrude(amount=-CUT_EXTRUDE8_DEPTH, mode=Mode.SUBTRACT)

    # Sketch15 → Cut-Extrude9 (cut)
    with BuildSketch(Plane.ZY.offset(45.085)):
        with Locations((-23.8125, -8.89)):
            Circle(SKETCH15_R)
        with Locations((23.8125, -8.89)):
            Circle(SKETCH15_R)
    extrude(amount=-CUT_EXTRUDE9_DEPTH, mode=Mode.SUBTRACT)

    # #8-32 Tapped Hole1
    with Locations(Plane(origin=(0, 3.81, 0), x_dir=(1, 0, 0), z_dir=(0, 1, 0))):
        with Locations((-17.78, 14.2875), (17.78, 14.2875), (0, -14.2875), (0, 0), (17.78, 0)):
            Hole(F_8_32_TAPPED_HOLE1_D / 2, depth=F_8_32_TAPPED_HOLE1_DEPTH)
            with Locations((0, 0, -(F_8_32_TAPPED_HOLE1_DEPTH + F_8_32_TAPPED_HOLE1_TIP / 2))):  # 118° drill point
                Cone(0, F_8_32_TAPPED_HOLE1_D / 2, F_8_32_TAPPED_HOLE1_TIP, mode=Mode.SUBTRACT)

    # Sketch23 → Cut-Extrude17 (cut)
    with BuildSketch(Plane(origin=(0, 3.81, 0), x_dir=(1, 0, 0), z_dir=(0, 1, 0))):
        with BuildLine():
            Line((-9.5, 3), (9.5, 3))
            ThreePointArc((9.5, 3), (12.5, 0), (9.5, -3))
            Line((9.5, -3), (-9.5, -3))
            ThreePointArc((-9.5, -3), (-12.5, 0), (-9.5, 3))
        make_face()
    extrude(amount=-CUT_EXTRUDE17_DEPTH, mode=Mode.SUBTRACT)


solid = part.part
